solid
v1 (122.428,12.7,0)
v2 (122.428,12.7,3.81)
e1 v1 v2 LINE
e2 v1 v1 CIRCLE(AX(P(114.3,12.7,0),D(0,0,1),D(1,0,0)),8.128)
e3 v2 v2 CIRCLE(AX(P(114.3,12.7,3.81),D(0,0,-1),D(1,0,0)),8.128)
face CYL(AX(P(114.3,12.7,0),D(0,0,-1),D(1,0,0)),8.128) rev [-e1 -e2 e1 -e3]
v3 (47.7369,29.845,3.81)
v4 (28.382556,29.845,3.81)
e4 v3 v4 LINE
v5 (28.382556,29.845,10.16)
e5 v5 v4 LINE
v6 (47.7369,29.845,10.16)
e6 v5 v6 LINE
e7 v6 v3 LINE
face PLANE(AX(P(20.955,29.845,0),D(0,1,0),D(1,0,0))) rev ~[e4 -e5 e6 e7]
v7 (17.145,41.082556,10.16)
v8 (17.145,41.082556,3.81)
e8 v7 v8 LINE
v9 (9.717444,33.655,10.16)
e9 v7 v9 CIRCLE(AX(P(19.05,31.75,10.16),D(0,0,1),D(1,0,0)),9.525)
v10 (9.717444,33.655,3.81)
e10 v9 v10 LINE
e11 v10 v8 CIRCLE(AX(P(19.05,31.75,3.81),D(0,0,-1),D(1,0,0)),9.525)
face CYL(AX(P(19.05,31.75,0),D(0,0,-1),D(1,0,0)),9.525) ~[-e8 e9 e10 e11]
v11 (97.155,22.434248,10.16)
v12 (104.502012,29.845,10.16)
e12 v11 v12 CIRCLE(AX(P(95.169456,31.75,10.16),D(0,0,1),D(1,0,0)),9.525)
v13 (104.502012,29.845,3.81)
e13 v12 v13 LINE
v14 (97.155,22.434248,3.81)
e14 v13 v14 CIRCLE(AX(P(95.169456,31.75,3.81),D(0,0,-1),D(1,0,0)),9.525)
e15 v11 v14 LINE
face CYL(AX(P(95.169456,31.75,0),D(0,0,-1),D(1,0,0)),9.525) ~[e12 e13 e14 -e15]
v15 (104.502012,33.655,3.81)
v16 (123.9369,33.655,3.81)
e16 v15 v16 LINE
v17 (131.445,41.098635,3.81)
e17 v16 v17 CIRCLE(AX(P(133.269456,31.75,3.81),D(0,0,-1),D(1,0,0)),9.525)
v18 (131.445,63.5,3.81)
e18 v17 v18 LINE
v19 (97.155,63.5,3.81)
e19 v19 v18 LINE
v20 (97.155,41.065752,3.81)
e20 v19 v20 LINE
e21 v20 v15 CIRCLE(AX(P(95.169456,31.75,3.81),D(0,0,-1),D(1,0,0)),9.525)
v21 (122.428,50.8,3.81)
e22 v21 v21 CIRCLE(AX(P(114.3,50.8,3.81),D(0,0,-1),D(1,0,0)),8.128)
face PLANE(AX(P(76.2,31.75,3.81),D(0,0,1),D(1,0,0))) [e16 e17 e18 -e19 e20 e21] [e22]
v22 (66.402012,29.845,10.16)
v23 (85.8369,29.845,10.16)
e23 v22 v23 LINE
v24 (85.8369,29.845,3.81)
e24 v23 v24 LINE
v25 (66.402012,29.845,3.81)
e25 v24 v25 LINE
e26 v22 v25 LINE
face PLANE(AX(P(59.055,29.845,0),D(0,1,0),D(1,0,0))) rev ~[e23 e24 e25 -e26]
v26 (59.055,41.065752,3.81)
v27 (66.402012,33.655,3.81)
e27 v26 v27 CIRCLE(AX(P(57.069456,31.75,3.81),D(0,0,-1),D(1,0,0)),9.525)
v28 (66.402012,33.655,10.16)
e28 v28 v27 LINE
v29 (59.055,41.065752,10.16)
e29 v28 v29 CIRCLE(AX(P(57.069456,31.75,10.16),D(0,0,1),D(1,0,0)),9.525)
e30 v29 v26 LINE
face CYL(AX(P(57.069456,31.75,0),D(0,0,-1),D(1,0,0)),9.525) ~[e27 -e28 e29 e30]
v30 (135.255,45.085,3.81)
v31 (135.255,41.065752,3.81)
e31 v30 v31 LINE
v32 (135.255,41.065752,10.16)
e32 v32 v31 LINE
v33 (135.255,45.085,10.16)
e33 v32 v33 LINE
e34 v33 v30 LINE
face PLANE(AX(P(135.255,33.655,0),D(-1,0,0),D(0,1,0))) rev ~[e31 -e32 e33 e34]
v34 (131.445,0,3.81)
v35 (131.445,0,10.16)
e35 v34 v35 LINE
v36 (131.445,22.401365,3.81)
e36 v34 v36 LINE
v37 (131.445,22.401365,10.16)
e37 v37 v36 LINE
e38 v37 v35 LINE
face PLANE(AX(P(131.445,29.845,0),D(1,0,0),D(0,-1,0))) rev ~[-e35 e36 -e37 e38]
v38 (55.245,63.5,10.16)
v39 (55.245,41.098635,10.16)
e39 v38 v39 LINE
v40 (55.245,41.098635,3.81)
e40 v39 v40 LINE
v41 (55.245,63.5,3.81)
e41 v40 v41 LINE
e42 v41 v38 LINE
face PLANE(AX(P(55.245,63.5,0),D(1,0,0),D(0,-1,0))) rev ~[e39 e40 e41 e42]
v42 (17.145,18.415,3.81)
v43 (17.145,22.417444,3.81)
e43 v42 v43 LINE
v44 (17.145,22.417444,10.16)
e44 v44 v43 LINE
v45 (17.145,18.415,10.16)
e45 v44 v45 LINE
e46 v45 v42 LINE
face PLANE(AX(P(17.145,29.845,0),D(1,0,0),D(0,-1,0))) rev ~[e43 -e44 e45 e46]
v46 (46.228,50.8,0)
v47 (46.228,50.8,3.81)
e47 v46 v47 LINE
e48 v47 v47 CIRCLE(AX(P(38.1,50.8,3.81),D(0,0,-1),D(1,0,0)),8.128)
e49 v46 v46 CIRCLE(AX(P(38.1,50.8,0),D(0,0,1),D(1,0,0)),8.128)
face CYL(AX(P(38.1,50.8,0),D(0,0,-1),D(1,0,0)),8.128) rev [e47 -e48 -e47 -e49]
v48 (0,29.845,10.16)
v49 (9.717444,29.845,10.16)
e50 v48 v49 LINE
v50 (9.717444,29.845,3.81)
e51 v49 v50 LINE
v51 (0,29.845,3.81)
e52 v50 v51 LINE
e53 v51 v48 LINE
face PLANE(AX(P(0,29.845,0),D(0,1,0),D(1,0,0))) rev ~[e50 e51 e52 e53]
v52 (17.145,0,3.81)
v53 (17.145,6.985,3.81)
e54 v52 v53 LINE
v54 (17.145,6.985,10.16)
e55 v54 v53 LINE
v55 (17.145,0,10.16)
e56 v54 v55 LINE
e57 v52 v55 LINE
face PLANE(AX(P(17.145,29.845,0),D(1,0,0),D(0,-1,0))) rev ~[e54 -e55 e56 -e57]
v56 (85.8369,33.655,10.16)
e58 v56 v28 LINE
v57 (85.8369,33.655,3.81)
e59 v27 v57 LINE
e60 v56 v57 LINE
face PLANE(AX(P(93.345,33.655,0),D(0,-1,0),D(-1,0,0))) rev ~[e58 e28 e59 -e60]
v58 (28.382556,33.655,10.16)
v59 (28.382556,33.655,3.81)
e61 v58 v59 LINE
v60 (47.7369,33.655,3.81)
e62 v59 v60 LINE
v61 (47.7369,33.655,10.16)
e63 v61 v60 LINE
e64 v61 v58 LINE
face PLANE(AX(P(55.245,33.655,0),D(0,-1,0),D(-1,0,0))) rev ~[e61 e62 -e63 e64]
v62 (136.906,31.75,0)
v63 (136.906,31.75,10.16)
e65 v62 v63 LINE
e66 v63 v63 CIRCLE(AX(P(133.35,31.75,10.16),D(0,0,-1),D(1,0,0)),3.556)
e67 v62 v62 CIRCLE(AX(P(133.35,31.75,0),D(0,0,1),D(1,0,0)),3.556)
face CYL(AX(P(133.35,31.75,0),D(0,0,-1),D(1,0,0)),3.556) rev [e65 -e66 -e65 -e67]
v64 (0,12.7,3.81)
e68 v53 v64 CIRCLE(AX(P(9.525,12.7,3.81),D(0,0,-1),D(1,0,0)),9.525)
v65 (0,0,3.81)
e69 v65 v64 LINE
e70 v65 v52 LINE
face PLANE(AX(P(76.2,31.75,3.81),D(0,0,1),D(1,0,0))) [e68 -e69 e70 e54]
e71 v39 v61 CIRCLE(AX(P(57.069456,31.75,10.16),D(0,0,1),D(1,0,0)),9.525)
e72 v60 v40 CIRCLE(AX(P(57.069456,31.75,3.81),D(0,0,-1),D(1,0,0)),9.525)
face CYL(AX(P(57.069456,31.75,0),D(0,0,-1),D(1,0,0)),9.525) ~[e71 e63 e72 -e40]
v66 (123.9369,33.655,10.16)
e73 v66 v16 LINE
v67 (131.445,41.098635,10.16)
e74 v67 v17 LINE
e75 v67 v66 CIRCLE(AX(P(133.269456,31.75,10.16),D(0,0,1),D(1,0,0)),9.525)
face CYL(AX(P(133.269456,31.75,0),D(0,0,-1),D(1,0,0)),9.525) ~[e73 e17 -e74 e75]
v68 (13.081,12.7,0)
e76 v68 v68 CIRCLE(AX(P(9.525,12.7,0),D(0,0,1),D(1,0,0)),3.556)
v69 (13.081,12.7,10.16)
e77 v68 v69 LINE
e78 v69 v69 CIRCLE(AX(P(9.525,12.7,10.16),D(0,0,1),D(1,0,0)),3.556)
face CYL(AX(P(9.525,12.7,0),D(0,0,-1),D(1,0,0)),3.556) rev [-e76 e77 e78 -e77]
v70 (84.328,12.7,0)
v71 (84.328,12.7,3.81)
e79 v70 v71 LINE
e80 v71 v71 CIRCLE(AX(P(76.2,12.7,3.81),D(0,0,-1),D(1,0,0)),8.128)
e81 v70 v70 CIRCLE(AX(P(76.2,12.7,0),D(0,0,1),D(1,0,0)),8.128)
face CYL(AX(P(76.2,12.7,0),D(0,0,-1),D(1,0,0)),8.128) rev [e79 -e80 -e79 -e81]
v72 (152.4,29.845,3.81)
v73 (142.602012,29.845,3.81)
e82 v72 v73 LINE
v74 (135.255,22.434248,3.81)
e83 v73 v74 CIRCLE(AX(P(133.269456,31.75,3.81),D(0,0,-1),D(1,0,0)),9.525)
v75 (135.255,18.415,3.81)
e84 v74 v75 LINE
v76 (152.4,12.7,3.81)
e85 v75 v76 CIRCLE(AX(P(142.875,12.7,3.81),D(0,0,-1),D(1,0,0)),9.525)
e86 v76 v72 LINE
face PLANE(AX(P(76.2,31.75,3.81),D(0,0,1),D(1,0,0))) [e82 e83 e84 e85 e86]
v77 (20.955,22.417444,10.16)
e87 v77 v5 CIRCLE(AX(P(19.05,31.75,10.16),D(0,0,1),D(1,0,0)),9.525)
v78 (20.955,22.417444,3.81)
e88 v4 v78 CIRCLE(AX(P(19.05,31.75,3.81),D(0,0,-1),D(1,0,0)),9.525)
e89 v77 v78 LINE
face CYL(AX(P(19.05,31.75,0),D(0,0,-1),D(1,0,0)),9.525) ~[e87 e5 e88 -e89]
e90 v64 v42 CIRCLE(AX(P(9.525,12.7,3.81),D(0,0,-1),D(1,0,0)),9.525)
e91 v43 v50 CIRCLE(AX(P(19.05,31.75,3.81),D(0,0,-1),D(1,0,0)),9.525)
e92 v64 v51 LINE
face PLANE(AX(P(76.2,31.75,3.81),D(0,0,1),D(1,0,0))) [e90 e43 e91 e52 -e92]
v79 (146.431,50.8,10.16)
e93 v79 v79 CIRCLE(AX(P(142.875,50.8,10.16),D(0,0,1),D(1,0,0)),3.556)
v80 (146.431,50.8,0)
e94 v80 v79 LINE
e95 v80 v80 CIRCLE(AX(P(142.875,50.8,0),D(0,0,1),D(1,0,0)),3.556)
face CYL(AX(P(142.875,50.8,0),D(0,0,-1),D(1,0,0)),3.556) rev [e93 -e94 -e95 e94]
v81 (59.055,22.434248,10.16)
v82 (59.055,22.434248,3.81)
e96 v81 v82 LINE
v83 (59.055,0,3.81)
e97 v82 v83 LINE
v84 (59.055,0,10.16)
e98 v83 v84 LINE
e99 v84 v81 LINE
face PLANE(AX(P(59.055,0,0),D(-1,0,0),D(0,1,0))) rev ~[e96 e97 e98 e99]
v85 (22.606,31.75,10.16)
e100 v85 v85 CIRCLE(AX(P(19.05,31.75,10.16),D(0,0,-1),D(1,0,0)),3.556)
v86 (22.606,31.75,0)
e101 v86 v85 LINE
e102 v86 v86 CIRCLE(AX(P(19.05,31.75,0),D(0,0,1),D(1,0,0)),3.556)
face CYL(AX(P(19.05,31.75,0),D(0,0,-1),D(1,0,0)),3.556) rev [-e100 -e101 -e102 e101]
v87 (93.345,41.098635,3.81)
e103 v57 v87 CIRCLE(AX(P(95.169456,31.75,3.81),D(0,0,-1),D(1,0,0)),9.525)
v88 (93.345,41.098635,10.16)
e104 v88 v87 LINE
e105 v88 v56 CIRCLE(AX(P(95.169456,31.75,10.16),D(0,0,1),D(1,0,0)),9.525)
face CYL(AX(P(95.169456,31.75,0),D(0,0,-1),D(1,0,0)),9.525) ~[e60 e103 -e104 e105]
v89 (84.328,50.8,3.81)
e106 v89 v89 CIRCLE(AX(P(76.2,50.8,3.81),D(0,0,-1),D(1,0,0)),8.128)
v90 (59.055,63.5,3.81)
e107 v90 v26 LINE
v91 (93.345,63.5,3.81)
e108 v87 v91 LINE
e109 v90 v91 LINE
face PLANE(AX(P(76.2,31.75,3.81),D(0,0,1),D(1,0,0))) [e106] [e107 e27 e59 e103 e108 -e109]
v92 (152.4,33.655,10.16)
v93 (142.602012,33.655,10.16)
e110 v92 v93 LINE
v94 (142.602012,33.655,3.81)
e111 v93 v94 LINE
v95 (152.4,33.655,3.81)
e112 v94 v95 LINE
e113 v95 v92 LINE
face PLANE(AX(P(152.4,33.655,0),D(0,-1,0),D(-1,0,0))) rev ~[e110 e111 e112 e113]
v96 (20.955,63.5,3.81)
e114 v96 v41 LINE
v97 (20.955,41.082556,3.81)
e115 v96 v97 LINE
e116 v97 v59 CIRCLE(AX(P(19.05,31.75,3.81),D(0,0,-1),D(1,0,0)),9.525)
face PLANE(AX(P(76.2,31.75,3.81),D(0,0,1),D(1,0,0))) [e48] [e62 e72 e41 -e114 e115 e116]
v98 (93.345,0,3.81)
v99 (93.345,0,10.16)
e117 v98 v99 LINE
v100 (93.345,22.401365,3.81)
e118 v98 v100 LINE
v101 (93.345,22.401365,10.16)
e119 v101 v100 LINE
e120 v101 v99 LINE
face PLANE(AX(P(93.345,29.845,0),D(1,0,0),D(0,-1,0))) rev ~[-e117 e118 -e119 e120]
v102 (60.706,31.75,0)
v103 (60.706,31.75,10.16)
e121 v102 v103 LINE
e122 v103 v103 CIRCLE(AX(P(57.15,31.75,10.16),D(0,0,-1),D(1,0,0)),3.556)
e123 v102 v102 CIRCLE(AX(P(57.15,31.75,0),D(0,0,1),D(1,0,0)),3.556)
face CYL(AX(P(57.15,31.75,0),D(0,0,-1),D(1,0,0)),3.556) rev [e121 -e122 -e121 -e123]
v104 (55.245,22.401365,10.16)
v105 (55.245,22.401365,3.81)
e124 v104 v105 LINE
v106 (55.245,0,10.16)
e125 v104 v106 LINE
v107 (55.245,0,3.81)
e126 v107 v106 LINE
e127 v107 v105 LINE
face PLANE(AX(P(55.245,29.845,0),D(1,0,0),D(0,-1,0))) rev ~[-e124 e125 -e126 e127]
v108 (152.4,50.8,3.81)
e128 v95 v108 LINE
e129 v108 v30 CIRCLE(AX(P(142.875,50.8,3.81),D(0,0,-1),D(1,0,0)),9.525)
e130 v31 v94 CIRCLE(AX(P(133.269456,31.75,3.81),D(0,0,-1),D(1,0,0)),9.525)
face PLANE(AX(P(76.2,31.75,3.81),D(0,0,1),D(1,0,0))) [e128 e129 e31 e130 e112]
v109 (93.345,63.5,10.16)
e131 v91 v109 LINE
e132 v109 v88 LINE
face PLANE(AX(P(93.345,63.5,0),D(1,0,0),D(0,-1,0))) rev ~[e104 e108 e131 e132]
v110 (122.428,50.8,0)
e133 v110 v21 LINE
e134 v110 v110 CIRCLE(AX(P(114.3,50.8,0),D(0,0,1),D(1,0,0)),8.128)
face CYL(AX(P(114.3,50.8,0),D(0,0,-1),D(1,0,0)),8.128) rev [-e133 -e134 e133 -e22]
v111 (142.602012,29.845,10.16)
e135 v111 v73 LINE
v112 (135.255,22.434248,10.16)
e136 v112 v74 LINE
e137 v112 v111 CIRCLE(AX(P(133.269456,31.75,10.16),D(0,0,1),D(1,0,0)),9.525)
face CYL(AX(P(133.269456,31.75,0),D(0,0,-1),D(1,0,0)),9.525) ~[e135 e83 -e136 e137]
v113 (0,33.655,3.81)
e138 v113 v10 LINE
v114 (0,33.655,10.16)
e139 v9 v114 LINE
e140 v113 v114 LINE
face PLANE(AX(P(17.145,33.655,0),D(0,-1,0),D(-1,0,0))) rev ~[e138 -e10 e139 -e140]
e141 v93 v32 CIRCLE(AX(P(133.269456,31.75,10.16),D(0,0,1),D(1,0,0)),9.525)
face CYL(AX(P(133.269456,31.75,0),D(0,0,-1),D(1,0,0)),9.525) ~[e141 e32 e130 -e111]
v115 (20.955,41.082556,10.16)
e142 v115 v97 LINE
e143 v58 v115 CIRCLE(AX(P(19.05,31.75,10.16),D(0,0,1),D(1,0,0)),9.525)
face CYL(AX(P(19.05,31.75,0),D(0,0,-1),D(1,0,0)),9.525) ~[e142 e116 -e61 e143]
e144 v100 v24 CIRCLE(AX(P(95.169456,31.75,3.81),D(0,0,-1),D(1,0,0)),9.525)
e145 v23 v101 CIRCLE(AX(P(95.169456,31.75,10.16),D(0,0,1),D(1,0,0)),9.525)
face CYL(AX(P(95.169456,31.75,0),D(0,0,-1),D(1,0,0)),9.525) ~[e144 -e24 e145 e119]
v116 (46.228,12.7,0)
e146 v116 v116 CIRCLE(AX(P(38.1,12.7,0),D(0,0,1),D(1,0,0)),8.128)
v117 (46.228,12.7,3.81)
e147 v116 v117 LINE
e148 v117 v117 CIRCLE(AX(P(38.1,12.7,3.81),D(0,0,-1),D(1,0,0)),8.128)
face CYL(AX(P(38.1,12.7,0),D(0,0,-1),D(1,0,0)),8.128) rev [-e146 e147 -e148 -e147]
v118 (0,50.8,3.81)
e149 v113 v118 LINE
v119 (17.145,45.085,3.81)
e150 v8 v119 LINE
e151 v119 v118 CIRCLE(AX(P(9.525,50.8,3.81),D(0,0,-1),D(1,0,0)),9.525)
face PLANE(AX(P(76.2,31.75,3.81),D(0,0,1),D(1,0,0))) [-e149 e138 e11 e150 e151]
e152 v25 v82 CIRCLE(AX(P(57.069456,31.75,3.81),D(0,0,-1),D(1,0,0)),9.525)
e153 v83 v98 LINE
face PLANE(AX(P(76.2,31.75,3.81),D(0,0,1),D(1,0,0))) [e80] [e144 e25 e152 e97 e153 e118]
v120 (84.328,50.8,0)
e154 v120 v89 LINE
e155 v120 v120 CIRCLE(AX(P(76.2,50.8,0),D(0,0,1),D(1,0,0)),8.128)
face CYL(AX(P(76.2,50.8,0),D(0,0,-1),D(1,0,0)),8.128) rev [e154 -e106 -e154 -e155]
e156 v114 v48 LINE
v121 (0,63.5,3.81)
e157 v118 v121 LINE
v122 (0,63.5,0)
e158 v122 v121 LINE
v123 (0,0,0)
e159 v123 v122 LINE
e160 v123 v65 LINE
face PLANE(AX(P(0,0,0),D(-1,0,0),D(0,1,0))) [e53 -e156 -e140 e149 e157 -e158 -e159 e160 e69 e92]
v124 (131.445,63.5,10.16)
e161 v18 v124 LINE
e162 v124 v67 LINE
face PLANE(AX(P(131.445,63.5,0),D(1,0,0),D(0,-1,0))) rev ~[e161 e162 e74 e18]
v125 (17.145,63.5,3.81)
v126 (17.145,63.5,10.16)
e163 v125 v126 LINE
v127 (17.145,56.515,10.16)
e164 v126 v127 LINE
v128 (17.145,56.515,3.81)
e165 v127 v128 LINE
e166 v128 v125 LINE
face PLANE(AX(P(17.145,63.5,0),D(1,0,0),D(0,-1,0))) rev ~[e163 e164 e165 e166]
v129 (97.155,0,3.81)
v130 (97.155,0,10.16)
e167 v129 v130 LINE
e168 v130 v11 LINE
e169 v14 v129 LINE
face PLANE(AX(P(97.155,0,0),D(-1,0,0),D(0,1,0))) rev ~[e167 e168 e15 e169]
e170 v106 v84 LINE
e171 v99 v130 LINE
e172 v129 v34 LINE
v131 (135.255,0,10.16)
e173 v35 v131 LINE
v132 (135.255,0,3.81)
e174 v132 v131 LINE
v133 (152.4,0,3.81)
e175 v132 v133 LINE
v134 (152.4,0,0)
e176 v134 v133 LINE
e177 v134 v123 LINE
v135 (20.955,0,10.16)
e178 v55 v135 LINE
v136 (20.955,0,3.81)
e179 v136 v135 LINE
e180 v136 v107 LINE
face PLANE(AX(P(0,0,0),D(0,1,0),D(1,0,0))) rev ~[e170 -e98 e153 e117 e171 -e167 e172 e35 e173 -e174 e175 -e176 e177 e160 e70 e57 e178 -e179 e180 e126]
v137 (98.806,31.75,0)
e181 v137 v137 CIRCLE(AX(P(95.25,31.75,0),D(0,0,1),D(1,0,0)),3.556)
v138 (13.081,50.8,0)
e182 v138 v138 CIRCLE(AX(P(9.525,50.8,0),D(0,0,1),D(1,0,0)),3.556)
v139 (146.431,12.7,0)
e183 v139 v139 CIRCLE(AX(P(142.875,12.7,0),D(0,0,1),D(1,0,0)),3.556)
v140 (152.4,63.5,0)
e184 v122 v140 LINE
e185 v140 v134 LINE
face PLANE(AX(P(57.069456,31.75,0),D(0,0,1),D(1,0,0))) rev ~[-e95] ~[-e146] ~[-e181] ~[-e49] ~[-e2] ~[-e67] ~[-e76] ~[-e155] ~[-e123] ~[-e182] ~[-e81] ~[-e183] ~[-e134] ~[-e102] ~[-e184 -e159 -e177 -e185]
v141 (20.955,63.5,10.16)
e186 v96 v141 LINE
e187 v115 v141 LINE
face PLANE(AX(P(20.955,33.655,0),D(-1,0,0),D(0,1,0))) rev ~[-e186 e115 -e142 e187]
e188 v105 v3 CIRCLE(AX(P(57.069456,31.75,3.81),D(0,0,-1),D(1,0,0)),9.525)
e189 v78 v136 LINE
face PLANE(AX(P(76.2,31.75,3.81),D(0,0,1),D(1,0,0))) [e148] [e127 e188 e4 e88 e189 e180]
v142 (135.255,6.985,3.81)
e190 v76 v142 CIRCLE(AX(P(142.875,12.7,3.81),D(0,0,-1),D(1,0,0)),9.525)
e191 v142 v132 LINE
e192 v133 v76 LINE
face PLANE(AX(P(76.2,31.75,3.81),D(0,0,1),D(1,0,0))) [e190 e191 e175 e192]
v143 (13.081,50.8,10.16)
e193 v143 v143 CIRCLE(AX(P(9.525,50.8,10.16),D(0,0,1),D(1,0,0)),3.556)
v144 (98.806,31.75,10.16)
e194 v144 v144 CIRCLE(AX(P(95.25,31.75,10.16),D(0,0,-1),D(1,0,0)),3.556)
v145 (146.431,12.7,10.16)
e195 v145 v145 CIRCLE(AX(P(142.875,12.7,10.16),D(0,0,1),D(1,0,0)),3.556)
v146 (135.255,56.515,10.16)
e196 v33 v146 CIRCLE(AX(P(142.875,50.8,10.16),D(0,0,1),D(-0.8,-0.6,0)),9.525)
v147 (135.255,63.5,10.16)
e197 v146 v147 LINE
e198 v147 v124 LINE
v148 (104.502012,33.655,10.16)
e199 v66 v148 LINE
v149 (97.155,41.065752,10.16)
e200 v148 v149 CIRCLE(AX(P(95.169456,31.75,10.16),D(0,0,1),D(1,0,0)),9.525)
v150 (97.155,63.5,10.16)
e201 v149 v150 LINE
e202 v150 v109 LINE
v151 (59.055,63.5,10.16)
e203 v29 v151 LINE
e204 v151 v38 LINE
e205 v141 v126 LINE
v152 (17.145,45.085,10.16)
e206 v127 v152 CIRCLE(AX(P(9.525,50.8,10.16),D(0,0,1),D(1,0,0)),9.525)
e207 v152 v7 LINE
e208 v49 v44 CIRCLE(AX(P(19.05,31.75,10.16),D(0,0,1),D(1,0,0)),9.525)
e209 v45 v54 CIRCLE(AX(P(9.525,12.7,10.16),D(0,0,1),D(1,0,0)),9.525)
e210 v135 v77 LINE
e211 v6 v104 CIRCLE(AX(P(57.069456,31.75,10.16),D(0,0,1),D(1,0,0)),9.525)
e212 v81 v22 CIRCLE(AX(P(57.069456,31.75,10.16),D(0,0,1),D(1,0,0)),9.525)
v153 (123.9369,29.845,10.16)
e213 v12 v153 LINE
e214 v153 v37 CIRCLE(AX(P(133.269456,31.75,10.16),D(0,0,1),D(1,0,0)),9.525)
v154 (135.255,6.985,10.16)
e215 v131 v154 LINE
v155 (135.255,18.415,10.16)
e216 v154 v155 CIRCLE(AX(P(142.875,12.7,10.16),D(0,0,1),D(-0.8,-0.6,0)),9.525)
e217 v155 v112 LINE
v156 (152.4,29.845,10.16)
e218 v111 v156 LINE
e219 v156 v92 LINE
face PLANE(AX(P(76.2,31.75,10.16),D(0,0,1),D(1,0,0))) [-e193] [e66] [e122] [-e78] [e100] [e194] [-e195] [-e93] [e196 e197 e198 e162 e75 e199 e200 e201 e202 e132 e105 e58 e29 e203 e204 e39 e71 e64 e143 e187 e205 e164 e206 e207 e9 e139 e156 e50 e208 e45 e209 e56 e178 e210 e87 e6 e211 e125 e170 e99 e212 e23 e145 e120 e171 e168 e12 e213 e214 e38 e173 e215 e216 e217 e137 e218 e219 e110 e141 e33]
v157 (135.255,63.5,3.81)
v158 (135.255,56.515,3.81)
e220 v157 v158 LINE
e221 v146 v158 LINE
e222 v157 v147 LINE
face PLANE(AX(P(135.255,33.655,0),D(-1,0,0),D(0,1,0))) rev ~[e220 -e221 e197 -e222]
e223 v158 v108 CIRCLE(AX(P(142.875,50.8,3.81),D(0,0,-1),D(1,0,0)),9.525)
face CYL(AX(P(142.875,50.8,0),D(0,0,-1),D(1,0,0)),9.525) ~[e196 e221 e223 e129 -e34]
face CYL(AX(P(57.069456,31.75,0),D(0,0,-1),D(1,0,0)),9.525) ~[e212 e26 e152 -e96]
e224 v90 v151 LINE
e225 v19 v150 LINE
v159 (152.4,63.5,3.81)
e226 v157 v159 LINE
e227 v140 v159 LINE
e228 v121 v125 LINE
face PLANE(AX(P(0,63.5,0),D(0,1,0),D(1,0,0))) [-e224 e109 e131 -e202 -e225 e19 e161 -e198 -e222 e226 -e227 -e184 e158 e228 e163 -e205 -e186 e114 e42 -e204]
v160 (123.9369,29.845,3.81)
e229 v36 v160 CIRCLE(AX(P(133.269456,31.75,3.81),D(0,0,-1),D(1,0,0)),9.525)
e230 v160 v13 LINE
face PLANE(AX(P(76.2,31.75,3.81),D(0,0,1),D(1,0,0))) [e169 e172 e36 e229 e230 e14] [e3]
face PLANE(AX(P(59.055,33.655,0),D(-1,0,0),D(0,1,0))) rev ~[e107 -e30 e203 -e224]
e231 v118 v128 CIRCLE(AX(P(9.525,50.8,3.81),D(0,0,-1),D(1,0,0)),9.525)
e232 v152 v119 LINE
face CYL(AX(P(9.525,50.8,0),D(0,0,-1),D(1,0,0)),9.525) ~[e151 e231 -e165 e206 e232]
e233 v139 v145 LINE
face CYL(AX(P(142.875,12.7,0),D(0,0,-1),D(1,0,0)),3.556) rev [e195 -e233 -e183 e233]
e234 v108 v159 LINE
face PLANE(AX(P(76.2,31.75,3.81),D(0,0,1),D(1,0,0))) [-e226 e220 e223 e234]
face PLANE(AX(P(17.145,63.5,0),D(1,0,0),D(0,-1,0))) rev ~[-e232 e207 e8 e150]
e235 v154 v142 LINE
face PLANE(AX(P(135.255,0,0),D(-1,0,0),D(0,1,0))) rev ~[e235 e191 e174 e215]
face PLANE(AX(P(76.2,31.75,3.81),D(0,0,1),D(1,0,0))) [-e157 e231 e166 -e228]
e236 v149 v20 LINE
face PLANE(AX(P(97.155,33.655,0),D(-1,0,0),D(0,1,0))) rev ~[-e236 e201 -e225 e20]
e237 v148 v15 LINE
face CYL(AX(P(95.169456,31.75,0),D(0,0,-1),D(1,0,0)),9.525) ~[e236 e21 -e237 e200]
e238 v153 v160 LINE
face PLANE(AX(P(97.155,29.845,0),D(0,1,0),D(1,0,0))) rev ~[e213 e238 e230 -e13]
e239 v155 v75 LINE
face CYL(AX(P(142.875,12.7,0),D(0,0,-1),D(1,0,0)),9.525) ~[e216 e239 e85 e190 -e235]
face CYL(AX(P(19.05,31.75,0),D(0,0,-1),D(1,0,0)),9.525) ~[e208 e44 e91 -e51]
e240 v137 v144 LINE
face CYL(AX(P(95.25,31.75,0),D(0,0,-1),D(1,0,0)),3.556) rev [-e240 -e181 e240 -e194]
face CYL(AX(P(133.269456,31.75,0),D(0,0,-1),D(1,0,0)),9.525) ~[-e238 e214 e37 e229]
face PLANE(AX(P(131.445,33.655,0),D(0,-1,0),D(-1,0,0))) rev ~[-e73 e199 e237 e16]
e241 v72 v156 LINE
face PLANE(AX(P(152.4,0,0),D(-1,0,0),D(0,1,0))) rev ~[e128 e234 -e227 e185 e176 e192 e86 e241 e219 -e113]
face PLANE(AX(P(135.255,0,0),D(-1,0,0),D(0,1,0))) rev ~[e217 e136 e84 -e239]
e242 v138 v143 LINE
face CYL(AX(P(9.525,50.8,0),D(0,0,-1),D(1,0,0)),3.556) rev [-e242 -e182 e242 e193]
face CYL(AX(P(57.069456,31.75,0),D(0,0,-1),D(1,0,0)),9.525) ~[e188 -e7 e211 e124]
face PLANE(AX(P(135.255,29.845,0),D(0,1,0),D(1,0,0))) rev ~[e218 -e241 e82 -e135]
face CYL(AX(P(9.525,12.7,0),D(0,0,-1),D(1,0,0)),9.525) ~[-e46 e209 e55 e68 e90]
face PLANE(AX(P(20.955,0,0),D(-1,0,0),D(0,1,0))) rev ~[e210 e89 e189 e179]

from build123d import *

# Parameters (mm, degrees)
F0_W      = 152.4
F0_H      = 63.5
F1_DEPTH  = 3.81
F2_R      = 8.128
F3_DEPTH  = 3.811
F5_DEPTH  = 10.16
F6_R      = 3.556
F7_DEPTH  = 10.161
F8_R      = 9.525
F9_DEPTH  = 10.16
F10_R     = 9.525
F10_R_2   = 3.556
F11_DEPTH = 10.16
F12_R     = 3.556
F13_DEPTH = 10.161


with BuildPart() as f1:
    # F0 (on Top) → F1 (new body)
    with BuildSketch(Plane.XY):
        with Locations((76.2, 31.75)):
            Rectangle(F0_W, F0_H)
    extrude(amount=F1_DEPTH)

    # F2 (on Top) → F3 (cut, through all)
    with BuildSketch(Plane.XY):
        with Locations((38.1, 12.7)):
            Circle(F2_R)
        with Locations((38.1, 50.8)):
            Circle(F2_R)
        with Locations((76.2, 50.8)):
            Circle(F2_R)
        with Locations((76.2, 12.7)):
            Circle(F2_R)
        with Locations((114.3, 50.8)):
            Circle(F2_R)
        with Locations((114.3, 12.7)):
            Circle(F2_R)
    extrude(amount=F3_DEPTH, mode=Mode.SUBTRACT)

    # F4 (on Top) → F5 (join)
    with BuildSketch(Plane.XY):
        Polygon((59.055, 63.5), (55.245, 63.5), (55.245, 33.655), (20.955, 33.655), (20.955, 63.5), (17.145, 63.5), (17.145, 33.655), (0, 33.655), (0, 29.845), (17.145, 29.845), (17.145, 0), (20.955, 0), (20.955, 29.845), (55.245, 29.845), (55.245, 0), (59.055, 0), (59.055, 29.845), (93.345, 29.845), (93.345, 0), (97.155, 0), (97.155, 29.845), (131.445, 29.845), (131.445, 0), (135.255, 0), (135.255, 29.845), (152.4, 29.845), (152.4, 33.655), (135.255, 33.655), (135.255, 63.5), (131.445, 63.5), (131.445, 33.655), (97.155, 33.655), (97.155, 63.5), (93.345, 63.5), (93.345, 33.655), (59.055, 33.655), align=None)
    extrude(amount=F5_DEPTH)

    # F6 (on Top) → F7 (cut, through all)
    with BuildSketch(Plane.XY):
        with Locations((9.525, 50.8)):
            Circle(F6_R)
        with Locations((9.525, 12.7)):
            Circle(F6_R)
        with Locations((142.875, 12.7)):
            Circle(F6_R)
        with Locations((142.875, 50.8)):
            Circle(F6_R)
    extrude(amount=F7_DEPTH, mode=Mode.SUBTRACT)

    # F8 (on Top) → F9 (join)
    with BuildSketch(Plane.XY):
        with Locations((57.069456, 31.75)):
            Circle(F8_R)
        with Locations((95.169456, 31.75)):
            Circle(F8_R)
        with Locations((19.05, 31.75)):
            Circle(F8_R)
        with Locations((133.269456, 31.75)):
            Circle(F8_R)
    extrude(amount=F9_DEPTH)

    # F10 (on Top) → F11 (join)
    with BuildSketch(Plane.XY):
        with Locations((9.525, 50.8)):
            Circle(F10_R)
        with Locations((9.525, 50.8)):
            Circle(F10_R_2, mode=Mode.SUBTRACT)
        with Locations((9.525, 12.7)):
            Circle(F10_R)
        with Locations((9.525, 12.7)):
            Circle(F10_R_2, mode=Mode.SUBTRACT)
        with Locations((142.875, 50.8)):
            Circle(F10_R)
        with Locations((142.875, 50.8)):
            Circle(F10_R_2, mode=Mode.SUBTRACT)
        with Locations((142.875, 12.7)):
            Circle(F10_R)
        with Locations((142.875, 12.7)):
            Circle(F10_R_2, mode=Mode.SUBTRACT)
    extrude(amount=F11_DEPTH)

    # F12 (on Top) → F13 (cut, through all)
    with BuildSketch(Plane.XY):
        with Locations((19.05, 31.75)):
            Circle(F12_R)
        with Locations((57.15, 31.75)):
            Circle(F12_R)
        with Locations((95.25, 31.75)):
            Circle(F12_R)
        with Locations((133.35, 31.75)):
            Circle(F12_R)
    extrude(amount=F13_DEPTH, mode=Mode.SUBTRACT)


solid = f1.part
